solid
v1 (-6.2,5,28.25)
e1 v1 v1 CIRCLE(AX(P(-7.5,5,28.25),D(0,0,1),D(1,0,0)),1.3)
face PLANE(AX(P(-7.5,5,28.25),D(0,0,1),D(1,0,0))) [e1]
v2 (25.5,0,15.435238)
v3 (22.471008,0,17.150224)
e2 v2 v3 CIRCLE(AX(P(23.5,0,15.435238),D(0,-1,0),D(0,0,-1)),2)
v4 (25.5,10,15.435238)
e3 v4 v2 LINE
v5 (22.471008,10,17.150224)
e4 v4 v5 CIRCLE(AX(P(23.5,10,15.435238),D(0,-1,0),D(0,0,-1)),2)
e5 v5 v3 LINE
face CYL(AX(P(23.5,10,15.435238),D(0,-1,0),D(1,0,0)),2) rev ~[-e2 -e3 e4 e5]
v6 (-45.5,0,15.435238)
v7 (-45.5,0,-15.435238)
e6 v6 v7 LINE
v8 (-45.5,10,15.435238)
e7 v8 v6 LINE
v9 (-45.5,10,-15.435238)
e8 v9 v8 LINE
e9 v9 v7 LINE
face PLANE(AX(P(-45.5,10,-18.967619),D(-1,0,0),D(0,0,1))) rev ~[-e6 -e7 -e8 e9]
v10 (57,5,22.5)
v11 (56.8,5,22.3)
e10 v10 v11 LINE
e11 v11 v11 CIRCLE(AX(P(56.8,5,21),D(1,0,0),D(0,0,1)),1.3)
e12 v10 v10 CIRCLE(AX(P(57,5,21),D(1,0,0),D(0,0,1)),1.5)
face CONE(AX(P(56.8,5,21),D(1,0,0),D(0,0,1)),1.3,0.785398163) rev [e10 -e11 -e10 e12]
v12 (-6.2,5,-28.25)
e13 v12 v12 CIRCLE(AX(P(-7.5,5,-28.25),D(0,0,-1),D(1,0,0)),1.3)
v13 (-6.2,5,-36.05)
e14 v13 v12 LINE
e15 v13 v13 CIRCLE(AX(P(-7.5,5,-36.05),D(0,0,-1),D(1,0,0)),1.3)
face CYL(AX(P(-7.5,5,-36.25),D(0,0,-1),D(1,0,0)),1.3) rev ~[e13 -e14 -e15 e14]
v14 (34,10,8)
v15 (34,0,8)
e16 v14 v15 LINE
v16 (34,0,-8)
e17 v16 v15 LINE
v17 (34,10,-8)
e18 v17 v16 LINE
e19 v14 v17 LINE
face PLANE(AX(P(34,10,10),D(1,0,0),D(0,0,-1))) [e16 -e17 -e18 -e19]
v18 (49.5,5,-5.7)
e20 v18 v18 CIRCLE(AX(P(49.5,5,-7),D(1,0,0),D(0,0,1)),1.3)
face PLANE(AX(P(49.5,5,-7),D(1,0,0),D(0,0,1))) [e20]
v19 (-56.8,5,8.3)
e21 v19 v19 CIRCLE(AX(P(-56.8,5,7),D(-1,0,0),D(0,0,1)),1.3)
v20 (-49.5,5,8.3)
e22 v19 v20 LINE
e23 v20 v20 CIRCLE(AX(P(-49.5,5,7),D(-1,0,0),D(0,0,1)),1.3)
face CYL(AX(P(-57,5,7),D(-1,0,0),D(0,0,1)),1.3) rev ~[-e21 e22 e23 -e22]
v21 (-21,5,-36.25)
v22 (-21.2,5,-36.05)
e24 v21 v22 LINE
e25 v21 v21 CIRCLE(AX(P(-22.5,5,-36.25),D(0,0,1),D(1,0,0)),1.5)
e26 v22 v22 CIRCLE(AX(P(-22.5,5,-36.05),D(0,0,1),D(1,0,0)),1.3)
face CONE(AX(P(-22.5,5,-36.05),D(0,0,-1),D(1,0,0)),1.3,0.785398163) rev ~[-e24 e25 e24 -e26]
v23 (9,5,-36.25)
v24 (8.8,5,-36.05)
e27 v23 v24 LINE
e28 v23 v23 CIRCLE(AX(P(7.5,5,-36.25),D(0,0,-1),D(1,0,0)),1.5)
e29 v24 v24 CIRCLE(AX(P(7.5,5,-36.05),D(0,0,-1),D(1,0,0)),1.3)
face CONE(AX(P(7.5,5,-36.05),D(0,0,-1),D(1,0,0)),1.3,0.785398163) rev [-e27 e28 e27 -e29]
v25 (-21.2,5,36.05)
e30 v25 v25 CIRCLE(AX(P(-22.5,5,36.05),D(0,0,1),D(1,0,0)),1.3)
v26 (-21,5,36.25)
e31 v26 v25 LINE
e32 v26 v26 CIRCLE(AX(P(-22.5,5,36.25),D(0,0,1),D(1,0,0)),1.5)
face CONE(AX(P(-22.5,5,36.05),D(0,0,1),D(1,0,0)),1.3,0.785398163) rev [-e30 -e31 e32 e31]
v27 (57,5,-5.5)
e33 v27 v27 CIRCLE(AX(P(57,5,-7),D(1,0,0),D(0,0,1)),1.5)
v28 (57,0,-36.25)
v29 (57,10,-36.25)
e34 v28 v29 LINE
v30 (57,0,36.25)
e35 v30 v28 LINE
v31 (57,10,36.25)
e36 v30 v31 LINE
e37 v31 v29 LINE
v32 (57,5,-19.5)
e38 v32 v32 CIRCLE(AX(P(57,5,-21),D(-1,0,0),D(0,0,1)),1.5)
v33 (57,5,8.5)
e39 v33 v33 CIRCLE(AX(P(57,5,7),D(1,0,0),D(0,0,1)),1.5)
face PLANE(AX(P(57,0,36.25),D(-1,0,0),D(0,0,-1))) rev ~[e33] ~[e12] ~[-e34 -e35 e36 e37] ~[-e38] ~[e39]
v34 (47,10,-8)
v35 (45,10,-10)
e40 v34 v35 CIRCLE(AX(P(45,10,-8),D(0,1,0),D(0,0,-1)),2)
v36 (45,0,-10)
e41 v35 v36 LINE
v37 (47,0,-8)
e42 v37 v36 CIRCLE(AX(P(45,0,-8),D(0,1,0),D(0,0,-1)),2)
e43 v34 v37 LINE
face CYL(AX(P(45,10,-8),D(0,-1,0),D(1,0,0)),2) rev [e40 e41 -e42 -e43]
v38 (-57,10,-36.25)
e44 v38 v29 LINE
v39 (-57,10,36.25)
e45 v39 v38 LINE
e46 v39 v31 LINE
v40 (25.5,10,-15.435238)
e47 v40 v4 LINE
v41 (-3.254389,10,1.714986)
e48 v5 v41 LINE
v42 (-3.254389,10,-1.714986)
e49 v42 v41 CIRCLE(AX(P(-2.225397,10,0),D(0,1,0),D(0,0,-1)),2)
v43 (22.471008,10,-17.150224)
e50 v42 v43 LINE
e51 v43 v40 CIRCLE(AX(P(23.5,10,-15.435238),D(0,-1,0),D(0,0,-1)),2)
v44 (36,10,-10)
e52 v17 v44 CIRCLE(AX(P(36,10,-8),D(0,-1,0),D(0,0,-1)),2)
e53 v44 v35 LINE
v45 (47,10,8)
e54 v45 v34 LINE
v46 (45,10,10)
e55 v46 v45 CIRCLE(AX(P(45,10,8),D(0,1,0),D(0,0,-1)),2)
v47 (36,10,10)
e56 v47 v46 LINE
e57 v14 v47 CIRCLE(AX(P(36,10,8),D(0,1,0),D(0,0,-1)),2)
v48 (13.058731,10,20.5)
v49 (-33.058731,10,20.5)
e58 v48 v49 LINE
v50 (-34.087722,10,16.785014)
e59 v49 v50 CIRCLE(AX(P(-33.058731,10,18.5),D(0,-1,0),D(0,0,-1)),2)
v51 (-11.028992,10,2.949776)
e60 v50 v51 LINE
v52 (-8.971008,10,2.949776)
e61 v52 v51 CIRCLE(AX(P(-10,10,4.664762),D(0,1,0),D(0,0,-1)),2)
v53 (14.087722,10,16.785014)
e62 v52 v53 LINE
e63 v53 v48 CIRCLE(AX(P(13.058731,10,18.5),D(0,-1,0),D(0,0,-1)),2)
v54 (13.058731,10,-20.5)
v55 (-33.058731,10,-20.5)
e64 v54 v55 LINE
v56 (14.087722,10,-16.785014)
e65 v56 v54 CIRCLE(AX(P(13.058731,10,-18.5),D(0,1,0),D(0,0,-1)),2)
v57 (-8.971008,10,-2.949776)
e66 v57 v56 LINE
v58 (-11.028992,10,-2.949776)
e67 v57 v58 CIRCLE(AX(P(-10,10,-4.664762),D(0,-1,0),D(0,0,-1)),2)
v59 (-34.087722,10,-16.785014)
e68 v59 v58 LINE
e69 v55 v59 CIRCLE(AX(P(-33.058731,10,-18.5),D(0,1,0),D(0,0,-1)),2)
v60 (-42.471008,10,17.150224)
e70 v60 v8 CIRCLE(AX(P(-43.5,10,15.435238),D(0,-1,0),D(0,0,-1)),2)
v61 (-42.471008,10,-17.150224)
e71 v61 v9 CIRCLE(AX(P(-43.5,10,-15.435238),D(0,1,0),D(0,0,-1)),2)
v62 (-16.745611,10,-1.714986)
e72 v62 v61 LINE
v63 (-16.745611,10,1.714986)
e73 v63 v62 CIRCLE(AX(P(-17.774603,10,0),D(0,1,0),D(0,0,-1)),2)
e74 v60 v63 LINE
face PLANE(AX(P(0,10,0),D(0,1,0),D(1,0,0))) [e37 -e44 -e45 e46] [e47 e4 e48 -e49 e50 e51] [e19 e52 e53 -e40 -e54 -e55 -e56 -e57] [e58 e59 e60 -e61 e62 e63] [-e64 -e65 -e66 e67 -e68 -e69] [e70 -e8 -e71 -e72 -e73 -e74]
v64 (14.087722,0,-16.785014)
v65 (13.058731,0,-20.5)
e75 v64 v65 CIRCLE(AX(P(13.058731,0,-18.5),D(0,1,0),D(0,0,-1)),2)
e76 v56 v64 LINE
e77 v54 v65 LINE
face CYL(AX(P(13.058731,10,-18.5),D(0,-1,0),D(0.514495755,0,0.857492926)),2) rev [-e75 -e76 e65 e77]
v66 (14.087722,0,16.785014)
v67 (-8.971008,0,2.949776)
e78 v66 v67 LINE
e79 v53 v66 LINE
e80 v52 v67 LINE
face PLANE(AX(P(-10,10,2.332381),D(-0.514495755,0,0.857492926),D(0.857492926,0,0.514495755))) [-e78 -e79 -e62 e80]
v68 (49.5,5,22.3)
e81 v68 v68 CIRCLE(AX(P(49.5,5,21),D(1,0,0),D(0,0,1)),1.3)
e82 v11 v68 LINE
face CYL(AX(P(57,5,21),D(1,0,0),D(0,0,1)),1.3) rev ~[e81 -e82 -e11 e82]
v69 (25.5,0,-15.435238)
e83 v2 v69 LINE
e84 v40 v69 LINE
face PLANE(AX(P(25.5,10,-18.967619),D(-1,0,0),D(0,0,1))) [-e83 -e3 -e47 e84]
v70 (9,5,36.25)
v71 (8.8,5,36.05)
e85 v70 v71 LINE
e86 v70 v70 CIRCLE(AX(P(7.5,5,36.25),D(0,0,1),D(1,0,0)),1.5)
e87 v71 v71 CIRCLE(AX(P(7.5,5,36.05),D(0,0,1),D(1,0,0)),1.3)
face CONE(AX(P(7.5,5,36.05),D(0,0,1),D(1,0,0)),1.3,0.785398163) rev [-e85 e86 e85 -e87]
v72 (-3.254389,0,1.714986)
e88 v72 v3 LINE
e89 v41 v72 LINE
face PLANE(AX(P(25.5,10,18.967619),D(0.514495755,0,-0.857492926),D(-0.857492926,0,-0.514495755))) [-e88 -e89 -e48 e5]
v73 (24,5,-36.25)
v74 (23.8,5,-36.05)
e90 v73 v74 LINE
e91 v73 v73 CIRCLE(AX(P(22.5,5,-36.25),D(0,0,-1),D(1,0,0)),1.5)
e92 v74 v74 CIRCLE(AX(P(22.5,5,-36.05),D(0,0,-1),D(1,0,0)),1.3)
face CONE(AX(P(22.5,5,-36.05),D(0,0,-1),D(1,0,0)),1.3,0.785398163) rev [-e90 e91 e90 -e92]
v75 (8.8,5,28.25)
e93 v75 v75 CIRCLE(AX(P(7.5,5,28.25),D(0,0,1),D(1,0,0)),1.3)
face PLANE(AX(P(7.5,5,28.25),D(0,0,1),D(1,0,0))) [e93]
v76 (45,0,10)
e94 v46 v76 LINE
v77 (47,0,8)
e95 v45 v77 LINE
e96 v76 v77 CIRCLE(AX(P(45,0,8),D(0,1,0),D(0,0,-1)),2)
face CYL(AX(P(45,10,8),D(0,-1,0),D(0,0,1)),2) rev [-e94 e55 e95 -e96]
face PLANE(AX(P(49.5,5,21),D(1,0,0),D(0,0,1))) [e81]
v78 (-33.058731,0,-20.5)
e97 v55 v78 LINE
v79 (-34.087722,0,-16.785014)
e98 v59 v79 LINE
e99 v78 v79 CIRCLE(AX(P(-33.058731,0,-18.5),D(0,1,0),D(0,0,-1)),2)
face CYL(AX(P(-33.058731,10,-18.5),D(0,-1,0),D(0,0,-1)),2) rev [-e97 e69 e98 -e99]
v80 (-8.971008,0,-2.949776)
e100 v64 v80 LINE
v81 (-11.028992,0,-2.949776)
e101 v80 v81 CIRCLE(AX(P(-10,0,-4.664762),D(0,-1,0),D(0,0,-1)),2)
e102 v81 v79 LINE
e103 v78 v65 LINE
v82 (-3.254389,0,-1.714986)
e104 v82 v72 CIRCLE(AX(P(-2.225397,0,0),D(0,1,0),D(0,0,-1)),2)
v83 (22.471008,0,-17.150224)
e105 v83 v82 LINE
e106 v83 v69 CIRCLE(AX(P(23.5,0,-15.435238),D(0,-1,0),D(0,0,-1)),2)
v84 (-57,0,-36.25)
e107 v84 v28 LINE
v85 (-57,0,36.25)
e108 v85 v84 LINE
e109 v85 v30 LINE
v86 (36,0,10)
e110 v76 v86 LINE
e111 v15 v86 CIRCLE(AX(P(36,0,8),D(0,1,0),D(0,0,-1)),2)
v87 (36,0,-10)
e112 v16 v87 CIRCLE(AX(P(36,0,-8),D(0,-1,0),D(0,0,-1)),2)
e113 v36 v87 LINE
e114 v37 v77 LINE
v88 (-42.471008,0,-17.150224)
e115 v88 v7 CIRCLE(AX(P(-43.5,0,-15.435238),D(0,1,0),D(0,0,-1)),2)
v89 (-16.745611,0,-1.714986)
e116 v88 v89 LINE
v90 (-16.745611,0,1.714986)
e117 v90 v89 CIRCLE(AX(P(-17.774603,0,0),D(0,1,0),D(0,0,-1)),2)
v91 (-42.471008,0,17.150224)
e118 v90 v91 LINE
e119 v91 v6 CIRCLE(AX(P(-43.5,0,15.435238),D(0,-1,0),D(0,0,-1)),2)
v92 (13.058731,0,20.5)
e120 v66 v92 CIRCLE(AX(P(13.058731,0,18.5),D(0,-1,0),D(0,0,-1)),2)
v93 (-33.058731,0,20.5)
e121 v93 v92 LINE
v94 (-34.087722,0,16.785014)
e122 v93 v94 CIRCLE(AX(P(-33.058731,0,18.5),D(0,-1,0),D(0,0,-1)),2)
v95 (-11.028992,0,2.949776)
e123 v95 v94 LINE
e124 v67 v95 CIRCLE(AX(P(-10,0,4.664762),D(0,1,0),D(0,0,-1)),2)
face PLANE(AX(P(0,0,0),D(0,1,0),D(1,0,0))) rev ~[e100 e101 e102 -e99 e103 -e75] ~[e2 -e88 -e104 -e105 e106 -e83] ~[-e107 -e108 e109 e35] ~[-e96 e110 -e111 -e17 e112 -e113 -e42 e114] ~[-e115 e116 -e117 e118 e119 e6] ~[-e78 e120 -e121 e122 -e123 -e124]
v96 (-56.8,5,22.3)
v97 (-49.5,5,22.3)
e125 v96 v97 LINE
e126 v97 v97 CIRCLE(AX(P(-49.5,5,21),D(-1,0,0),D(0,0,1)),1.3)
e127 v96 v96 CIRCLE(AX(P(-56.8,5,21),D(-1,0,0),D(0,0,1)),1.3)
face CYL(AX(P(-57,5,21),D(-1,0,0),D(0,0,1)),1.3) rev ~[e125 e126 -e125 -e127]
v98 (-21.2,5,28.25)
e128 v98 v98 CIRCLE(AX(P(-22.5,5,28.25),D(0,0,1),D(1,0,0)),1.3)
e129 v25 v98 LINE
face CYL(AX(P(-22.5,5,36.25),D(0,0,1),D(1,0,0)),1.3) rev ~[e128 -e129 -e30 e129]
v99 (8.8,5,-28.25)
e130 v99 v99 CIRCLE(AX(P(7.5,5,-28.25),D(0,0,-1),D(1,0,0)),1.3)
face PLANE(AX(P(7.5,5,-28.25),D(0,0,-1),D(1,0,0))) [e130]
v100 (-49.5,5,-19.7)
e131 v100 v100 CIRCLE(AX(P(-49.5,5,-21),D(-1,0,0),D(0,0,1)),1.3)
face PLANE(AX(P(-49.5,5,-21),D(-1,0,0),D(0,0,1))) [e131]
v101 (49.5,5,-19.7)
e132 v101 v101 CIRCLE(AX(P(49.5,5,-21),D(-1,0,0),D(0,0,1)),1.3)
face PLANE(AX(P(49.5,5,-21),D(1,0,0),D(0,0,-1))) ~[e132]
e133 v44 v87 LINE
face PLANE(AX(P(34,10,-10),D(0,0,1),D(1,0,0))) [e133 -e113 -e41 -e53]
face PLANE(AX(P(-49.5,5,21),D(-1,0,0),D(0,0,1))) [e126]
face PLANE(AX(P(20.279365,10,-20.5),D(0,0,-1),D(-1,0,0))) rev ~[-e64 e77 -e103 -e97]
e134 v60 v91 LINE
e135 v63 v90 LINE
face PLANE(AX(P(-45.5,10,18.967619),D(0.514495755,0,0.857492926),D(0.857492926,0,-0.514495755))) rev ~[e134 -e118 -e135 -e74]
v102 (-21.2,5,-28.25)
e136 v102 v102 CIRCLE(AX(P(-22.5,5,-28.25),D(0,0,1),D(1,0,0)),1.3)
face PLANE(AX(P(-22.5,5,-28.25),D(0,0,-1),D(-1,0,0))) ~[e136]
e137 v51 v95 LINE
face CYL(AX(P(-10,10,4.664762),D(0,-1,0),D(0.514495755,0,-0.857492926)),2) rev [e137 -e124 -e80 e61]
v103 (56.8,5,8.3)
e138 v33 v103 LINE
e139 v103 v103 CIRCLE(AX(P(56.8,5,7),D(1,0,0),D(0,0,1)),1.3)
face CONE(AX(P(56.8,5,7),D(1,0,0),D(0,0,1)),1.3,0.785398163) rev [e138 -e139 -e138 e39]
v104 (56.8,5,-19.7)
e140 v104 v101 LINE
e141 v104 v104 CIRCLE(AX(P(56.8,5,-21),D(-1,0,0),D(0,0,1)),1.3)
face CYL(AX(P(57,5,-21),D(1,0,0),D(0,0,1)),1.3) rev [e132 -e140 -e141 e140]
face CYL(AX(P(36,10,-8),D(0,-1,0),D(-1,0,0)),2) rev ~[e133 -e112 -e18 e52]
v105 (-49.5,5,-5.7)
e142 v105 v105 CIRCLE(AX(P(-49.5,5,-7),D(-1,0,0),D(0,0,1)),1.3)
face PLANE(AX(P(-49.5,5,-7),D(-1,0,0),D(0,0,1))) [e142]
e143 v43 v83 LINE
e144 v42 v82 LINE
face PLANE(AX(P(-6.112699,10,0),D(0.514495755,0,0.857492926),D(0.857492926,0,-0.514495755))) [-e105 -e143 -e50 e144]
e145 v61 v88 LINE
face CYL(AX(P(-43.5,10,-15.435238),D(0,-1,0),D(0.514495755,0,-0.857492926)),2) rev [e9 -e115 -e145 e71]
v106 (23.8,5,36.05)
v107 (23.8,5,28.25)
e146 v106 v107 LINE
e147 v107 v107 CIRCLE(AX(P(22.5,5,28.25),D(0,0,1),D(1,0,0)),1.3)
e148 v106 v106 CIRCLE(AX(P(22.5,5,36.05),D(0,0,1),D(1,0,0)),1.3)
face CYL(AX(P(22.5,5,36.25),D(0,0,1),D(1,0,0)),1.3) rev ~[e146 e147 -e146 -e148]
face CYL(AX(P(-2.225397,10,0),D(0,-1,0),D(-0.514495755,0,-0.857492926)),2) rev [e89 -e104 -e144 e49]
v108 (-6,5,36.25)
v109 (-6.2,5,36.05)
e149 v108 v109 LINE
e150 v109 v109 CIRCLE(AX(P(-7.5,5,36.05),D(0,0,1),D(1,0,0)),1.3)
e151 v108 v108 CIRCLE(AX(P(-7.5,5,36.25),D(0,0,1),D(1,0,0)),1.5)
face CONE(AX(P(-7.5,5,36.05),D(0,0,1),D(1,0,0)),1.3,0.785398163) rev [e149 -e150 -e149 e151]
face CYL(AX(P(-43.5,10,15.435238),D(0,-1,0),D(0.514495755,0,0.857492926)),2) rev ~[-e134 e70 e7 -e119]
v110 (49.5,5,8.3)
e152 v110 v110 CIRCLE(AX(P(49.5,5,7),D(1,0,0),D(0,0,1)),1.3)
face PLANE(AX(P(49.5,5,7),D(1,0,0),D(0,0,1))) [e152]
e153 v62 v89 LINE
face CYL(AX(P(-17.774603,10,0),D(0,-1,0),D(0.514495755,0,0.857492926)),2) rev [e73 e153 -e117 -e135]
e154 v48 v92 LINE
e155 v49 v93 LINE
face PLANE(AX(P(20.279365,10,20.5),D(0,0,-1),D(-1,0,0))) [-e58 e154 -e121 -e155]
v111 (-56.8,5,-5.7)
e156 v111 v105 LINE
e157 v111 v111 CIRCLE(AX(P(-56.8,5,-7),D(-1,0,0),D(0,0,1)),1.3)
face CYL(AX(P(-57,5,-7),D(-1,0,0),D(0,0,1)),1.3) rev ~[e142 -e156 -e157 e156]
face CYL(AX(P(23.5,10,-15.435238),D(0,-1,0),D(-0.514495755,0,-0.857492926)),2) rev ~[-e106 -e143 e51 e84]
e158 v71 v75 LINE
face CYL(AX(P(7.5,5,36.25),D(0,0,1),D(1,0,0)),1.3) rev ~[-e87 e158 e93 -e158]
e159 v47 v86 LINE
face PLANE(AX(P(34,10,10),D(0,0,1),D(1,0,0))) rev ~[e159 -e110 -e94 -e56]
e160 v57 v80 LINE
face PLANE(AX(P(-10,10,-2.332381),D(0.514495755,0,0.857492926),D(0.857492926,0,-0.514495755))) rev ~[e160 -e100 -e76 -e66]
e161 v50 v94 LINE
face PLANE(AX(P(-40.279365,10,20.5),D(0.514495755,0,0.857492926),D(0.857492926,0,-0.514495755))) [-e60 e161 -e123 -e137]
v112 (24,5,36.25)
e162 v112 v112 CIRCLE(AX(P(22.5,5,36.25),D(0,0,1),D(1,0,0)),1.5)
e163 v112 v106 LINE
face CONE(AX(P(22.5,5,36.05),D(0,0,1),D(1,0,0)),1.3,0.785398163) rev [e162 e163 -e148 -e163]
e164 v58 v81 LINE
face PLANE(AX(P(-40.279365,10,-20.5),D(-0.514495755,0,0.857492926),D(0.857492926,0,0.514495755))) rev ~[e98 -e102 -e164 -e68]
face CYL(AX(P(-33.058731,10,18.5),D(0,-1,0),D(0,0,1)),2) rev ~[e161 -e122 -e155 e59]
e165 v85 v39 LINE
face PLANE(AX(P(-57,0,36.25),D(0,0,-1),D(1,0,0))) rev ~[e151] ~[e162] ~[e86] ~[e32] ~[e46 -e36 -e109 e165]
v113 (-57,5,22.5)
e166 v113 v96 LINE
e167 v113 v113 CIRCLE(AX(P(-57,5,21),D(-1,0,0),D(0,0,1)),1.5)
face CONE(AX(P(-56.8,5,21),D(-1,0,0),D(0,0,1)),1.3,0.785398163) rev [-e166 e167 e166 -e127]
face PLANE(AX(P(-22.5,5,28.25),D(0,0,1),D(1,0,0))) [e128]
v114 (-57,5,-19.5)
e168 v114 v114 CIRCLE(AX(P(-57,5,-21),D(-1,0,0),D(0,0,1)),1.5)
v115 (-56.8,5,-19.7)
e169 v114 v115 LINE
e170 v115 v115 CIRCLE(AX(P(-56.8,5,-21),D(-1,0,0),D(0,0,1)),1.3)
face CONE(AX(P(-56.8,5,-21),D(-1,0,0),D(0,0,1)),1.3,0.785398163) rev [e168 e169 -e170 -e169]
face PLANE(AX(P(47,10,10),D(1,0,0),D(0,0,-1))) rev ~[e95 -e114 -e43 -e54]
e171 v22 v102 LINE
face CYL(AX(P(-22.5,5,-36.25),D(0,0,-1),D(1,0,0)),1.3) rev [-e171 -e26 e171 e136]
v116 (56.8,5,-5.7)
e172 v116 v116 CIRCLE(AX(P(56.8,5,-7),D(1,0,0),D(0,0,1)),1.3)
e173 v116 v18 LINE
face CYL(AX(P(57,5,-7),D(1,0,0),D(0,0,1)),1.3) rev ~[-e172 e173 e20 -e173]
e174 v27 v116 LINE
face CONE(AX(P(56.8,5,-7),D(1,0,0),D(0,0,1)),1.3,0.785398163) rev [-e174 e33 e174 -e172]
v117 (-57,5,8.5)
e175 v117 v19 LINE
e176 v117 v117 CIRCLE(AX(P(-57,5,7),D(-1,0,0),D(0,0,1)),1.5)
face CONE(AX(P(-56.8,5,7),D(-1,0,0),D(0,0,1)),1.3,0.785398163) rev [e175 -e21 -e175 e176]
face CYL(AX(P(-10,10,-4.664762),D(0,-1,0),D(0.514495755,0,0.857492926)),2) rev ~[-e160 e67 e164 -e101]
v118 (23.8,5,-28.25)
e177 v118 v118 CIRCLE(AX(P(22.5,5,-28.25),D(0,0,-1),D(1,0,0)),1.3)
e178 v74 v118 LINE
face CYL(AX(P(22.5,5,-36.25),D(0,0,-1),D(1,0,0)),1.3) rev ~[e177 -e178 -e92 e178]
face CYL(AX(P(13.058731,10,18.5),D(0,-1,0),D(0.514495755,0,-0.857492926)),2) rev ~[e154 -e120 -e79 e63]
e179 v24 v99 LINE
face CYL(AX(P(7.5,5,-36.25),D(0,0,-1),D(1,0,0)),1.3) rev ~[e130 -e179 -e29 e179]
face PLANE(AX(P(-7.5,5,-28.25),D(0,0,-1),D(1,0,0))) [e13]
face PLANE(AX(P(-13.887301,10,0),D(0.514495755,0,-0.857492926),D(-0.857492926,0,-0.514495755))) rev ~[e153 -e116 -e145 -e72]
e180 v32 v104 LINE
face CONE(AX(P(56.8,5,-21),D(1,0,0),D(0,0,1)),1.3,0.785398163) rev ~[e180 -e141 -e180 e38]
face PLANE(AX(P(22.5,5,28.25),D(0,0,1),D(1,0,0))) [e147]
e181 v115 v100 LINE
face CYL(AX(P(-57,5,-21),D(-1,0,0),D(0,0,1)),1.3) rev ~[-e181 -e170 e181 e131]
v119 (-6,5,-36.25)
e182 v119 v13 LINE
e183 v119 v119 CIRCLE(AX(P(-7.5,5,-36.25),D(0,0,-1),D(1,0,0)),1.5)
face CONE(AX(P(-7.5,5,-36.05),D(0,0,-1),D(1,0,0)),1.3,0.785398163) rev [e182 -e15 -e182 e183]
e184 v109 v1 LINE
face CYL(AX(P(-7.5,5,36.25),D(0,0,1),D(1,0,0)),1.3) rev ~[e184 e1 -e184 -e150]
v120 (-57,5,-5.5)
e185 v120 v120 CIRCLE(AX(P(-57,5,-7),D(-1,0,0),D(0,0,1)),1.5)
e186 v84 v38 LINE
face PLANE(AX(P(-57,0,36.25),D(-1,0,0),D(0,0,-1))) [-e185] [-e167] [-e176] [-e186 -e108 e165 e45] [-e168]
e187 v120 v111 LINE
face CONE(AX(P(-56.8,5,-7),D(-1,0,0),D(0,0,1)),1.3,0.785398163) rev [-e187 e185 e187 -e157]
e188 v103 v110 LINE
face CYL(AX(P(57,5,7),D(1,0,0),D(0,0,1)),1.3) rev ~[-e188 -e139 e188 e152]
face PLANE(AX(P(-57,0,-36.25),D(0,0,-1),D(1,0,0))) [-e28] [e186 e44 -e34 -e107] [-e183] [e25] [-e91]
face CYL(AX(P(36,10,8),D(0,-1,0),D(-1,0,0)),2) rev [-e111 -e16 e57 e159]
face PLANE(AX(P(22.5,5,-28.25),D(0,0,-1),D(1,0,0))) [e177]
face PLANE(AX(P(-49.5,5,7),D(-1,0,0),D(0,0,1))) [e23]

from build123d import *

# Parameters (mm, degrees)
SKETCH_1_W               = 114
SKETCH_1_H               = 72.5
EXTRUDE_1_DEPTH          = 10
SKETCH_2_R               = 1.3
CUT_EXTRUDE_1_DEPTH      = 8
PATTERN_LINEAR_1_COUNT   = 4
PATTERN_LINEAR_1_PITCH   = 15
MIRROR_1_COPY_1_SKETCH_R = 1.3
MIRROR_1_COPY_1_DEPTH    = 8
MIRROR_1_COPY_2_SKETCH_R = 1.3
MIRROR_1_COPY_2_DEPTH    = 8
MIRROR_1_COPY_3_SKETCH_R = 1.3
MIRROR_1_COPY_3_DEPTH    = 8
SKETCH_3_R               = 1.3
CUT_EXTRUDE_2_DEPTH      = 7.5
PATTERN_LINEAR_2_COUNT   = 4
PATTERN_LINEAR_2_PITCH   = 14
MIRROR_2_COPY_1_SKETCH_R = 1.3
MIRROR_2_COPY_1_DEPTH    = 7.5
MIRROR_2_COPY_2_SKETCH_R = 1.3
MIRROR_2_COPY_2_DEPTH    = 7.5
MIRROR_2_COPY_3_SKETCH_R = 1.3
MIRROR_2_COPY_3_DEPTH    = 7.5
CUT_EXTRUDE_3_REACH      = 70.287
SKETCH_4_W               = 13
SKETCH_4_H               = 20
FILLET_1_R               = 2
CHAMFER_1_SIZE           = 0.2


with BuildPart() as part:
    # 草圖1 → 填料-伸長1 (new body)
    with BuildSketch(Plane(origin=(0, 0, 0), x_dir=(1, 0, 0), z_dir=(0, 1, 0))):
        Rectangle(SKETCH_1_W, SKETCH_1_H)
    extrude(amount=EXTRUDE_1_DEPTH)

    # 草圖2 → 除料-伸長1 (cut)
    with BuildSketch(Plane.XY.offset(36.25)):
        with Locations((-22.5, 5)):
            Circle(SKETCH_2_R)
    cut_extrude_1 = extrude(amount=-CUT_EXTRUDE_1_DEPTH, mode=Mode.SUBTRACT)

    # 直線複製排列1: 除料-伸長1 ×4
    with Locations(*[(i * PATTERN_LINEAR_1_PITCH, 0, 0) for i in range(1, PATTERN_LINEAR_1_COUNT)]):
        add(cut_extrude_1, mode=Mode.SUBTRACT)

    # 鏡射1: 除料-伸長1 across plane
    add(cut_extrude_1.mirror(Plane.XY), mode=Mode.SUBTRACT)

    # 鏡射1 copy 1 sketch → 鏡射1 copy 1 (cut)
    with BuildSketch(Plane(origin=(15, 0, -36.25), x_dir=(1, 0, 0), z_dir=(0, 0, -1))):
        with Locations((-22.5, -5)):
            Circle(MIRROR_1_COPY_1_SKETCH_R)
    extrude(amount=-MIRROR_1_COPY_1_DEPTH, mode=Mode.SUBTRACT)

    # 鏡射1 copy 2 sketch → 鏡射1 copy 2 (cut)
    with BuildSketch(Plane(origin=(30, 0, -36.25), x_dir=(1, 0, 0), z_dir=(0, 0, -1))):
        with Locations((-22.5, -5)):
            Circle(MIRROR_1_COPY_2_SKETCH_R)
    extrude(amount=-MIRROR_1_COPY_2_DEPTH, mode=Mode.SUBTRACT)

    # 鏡射1 copy 3 sketch → 鏡射1 copy 3 (cut)
    with BuildSketch(Plane(origin=(45, 0, -36.25), x_dir=(1, 0, 0), z_dir=(0, 0, -1))):
        with Locations((-22.5, -5)):
            Circle(MIRROR_1_COPY_3_SKETCH_R)
    extrude(amount=-MIRROR_1_COPY_3_DEPTH, mode=Mode.SUBTRACT)

    # 草圖3 → 除料-伸長2 (cut)
    with BuildSketch(Plane.ZY.offset(57)):
        with Locations((-21, 5)):
            Circle(SKETCH_3_R)
    cut_extrude_2 = extrude(amount=-CUT_EXTRUDE_2_DEPTH, mode=Mode.SUBTRACT)

    # 直線複製排列2: 除料-伸長2 ×4
    with Locations(*[(0, 0, i * PATTERN_LINEAR_2_PITCH) for i in range(1, PATTERN_LINEAR_2_COUNT)]):
        add(cut_extrude_2, mode=Mode.SUBTRACT)

    # 鏡射2: 除料-伸長2 across plane
    add(cut_extrude_2.mirror(Plane(origin=(0, 0, 0), x_dir=(0, 0, 1), z_dir=(1, 0, 0))), mode=Mode.SUBTRACT)

    # 鏡射2 copy 1 sketch → 鏡射2 copy 1 (cut)
    with BuildSketch(Plane(origin=(57, 0, 14), x_dir=(0, 0, 1), z_dir=(1, 0, 0))):
        with Locations((-21, -5)):
            Circle(MIRROR_2_COPY_1_SKETCH_R)
    extrude(amount=-MIRROR_2_COPY_1_DEPTH, mode=Mode.SUBTRACT)

    # 鏡射2 copy 2 sketch → 鏡射2 copy 2 (cut)
    with BuildSketch(Plane(origin=(57, 0, 28), x_dir=(0, 0, 1), z_dir=(1, 0, 0))):
        with Locations((-21, -5)):
            Circle(MIRROR_2_COPY_2_SKETCH_R)
    extrude(amount=-MIRROR_2_COPY_2_DEPTH, mode=Mode.SUBTRACT)

    # 鏡射2 copy 3 sketch → 鏡射2 copy 3 (cut)
    with BuildSketch(Plane(origin=(57, 0, 42), x_dir=(0, 0, 1), z_dir=(1, 0, 0))):
        with Locations((-21, -5)):
            Circle(MIRROR_2_COPY_3_SKETCH_R)
    extrude(amount=-MIRROR_2_COPY_3_DEPTH, mode=Mode.SUBTRACT)

    # 草圖4 → 除料-伸長3 (cut, up to next)
    with BuildSketch(Plane(origin=(0, 10, 0), x_dir=(1, 0, 0), z_dir=(0, 1, 0)), mode=Mode.PRIVATE) as cut_extrude_3_sk1:
        Polygon((-45.5, 18.967619242), (-45.5, -18.967619242), (-13.887301263, 0), align=None)
    cut_extrude_3_tool1 = extrude(cut_extrude_3_sk1.sketch, amount=-CUT_EXTRUDE_3_REACH, mode=Mode.PRIVATE) & part.part
    # 草圖4 → 除料-伸長3 (cut, up to next)
    with BuildSketch(Plane(origin=(0, 10, 0), x_dir=(1, 0, 0), z_dir=(0, 1, 0)), mode=Mode.PRIVATE) as cut_extrude_3_sk2:
        Polygon((-40.279365403, 20.5), (-10, 2.332380758), (20.279365403, 20.5), align=None)
    cut_extrude_3_tool2 = extrude(cut_extrude_3_sk2.sketch, amount=-CUT_EXTRUDE_3_REACH, mode=Mode.PRIVATE) & part.part
    # 草圖4 → 除料-伸長3 (cut, up to next)
    with BuildSketch(Plane(origin=(0, 10, 0), x_dir=(1, 0, 0), z_dir=(0, 1, 0)), mode=Mode.PRIVATE) as cut_extrude_3_sk3:
        Polygon((-6.112698737, 0), (25.5, 18.967619242), (25.5, -18.967619242), align=None)
    cut_extrude_3_tool3 = extrude(cut_extrude_3_sk3.sketch, amount=-CUT_EXTRUDE_3_REACH, mode=Mode.PRIVATE) & part.part
    # 草圖4 → 除料-伸長3 (cut, up to next)
    with BuildSketch(Plane(origin=(0, 10, 0), x_dir=(1, 0, 0), z_dir=(0, 1, 0)), mode=Mode.PRIVATE) as cut_extrude_3_sk4:
        Polygon((-10, -2.332380758), (20.279365403, -20.5), (-40.279365403, -20.5), align=None)
    cut_extrude_3_tool4 = extrude(cut_extrude_3_sk4.sketch, amount=-CUT_EXTRUDE_3_REACH, mode=Mode.PRIVATE) & part.part
    # 草圖4 → 除料-伸長3 (cut, up to next)
    with BuildSketch(Plane(origin=(0, 10, 0), x_dir=(1, 0, 0), z_dir=(0, 1, 0)), mode=Mode.PRIVATE) as cut_extrude_3_sk5:
        with Locations((40.5, 0)):
            Rectangle(SKETCH_4_W, SKETCH_4_H)
    cut_extrude_3_tool5 = extrude(cut_extrude_3_sk5.sketch, amount=-CUT_EXTRUDE_3_REACH, mode=Mode.PRIVATE) & part.part
    add(cut_extrude_3_tool1.solids().sort_by_distance((-34.962434, 10, 0))[0], mode=Mode.SUBTRACT)
    add(cut_extrude_3_tool2.solids().sort_by_distance((-10, 10, -14.444127))[0], mode=Mode.SUBTRACT)
    add(cut_extrude_3_tool3.solids().sort_by_distance((14.962434, 10, 0))[0], mode=Mode.SUBTRACT)
    add(cut_extrude_3_tool4.solids().sort_by_distance((-10, 10, 14.444127))[0], mode=Mode.SUBTRACT)
    add(cut_extrude_3_tool5.solids().sort_by_distance((40.5, 10, 0))[0], mode=Mode.SUBTRACT)

    # 圓角1
    fillet_1_edges = [part.edges().sort_by_distance(p)[0] for p in [
        (-45.5, 5, 18.967619242),
        (-45.5, 5, -18.967619242),
        (-13.887301263, 5, 0),
        (-6.112698737, 5, 0),
        (25.5, 5, -18.967619242),
        (25.5, 5, 18.967619242),
        (-10, 5, -2.332380758),
        (-40.279365403, 5, -20.5),
        (20.279365403, 5, -20.5),
        (-10, 5, 2.332380758),
        (20.279365403, 5, 20.5),
        (-40.279365403, 5, 20.5),
        (47, 5, -10),
        (47, 5, 10),
        (34, 5, 10),
        (34, 5, -10),
    ]]
    fillet(fillet_1_edges, radius=FILLET_1_R)

    # 導角1
    chamfer_1_edges = [part.edges().sort_by_distance(p)[0] for p in [
        (-23.8, 5, 36.25),
        (-8.8, 5, 36.25),
        (6.2, 5, 36.25),
        (21.2, 5, 36.25),
        (-23.8, 5, -36.25),
        (-8.8, 5, -36.25),
        (6.2, 5, -36.25),
        (21.2, 5, -36.25),
        (-57, 5, -22.3),
        (-57, 5, -8.3),
        (-57, 5, 5.7),
        (-57, 5, 19.7),
        (57, 5, -22.3),
        (57, 5, -8.3),
        (57, 5, 5.7),
        (57, 5, 19.7),
    ]]
    chamfer(chamfer_1_edges, length=CHAMFER_1_SIZE)


solid = part.part
